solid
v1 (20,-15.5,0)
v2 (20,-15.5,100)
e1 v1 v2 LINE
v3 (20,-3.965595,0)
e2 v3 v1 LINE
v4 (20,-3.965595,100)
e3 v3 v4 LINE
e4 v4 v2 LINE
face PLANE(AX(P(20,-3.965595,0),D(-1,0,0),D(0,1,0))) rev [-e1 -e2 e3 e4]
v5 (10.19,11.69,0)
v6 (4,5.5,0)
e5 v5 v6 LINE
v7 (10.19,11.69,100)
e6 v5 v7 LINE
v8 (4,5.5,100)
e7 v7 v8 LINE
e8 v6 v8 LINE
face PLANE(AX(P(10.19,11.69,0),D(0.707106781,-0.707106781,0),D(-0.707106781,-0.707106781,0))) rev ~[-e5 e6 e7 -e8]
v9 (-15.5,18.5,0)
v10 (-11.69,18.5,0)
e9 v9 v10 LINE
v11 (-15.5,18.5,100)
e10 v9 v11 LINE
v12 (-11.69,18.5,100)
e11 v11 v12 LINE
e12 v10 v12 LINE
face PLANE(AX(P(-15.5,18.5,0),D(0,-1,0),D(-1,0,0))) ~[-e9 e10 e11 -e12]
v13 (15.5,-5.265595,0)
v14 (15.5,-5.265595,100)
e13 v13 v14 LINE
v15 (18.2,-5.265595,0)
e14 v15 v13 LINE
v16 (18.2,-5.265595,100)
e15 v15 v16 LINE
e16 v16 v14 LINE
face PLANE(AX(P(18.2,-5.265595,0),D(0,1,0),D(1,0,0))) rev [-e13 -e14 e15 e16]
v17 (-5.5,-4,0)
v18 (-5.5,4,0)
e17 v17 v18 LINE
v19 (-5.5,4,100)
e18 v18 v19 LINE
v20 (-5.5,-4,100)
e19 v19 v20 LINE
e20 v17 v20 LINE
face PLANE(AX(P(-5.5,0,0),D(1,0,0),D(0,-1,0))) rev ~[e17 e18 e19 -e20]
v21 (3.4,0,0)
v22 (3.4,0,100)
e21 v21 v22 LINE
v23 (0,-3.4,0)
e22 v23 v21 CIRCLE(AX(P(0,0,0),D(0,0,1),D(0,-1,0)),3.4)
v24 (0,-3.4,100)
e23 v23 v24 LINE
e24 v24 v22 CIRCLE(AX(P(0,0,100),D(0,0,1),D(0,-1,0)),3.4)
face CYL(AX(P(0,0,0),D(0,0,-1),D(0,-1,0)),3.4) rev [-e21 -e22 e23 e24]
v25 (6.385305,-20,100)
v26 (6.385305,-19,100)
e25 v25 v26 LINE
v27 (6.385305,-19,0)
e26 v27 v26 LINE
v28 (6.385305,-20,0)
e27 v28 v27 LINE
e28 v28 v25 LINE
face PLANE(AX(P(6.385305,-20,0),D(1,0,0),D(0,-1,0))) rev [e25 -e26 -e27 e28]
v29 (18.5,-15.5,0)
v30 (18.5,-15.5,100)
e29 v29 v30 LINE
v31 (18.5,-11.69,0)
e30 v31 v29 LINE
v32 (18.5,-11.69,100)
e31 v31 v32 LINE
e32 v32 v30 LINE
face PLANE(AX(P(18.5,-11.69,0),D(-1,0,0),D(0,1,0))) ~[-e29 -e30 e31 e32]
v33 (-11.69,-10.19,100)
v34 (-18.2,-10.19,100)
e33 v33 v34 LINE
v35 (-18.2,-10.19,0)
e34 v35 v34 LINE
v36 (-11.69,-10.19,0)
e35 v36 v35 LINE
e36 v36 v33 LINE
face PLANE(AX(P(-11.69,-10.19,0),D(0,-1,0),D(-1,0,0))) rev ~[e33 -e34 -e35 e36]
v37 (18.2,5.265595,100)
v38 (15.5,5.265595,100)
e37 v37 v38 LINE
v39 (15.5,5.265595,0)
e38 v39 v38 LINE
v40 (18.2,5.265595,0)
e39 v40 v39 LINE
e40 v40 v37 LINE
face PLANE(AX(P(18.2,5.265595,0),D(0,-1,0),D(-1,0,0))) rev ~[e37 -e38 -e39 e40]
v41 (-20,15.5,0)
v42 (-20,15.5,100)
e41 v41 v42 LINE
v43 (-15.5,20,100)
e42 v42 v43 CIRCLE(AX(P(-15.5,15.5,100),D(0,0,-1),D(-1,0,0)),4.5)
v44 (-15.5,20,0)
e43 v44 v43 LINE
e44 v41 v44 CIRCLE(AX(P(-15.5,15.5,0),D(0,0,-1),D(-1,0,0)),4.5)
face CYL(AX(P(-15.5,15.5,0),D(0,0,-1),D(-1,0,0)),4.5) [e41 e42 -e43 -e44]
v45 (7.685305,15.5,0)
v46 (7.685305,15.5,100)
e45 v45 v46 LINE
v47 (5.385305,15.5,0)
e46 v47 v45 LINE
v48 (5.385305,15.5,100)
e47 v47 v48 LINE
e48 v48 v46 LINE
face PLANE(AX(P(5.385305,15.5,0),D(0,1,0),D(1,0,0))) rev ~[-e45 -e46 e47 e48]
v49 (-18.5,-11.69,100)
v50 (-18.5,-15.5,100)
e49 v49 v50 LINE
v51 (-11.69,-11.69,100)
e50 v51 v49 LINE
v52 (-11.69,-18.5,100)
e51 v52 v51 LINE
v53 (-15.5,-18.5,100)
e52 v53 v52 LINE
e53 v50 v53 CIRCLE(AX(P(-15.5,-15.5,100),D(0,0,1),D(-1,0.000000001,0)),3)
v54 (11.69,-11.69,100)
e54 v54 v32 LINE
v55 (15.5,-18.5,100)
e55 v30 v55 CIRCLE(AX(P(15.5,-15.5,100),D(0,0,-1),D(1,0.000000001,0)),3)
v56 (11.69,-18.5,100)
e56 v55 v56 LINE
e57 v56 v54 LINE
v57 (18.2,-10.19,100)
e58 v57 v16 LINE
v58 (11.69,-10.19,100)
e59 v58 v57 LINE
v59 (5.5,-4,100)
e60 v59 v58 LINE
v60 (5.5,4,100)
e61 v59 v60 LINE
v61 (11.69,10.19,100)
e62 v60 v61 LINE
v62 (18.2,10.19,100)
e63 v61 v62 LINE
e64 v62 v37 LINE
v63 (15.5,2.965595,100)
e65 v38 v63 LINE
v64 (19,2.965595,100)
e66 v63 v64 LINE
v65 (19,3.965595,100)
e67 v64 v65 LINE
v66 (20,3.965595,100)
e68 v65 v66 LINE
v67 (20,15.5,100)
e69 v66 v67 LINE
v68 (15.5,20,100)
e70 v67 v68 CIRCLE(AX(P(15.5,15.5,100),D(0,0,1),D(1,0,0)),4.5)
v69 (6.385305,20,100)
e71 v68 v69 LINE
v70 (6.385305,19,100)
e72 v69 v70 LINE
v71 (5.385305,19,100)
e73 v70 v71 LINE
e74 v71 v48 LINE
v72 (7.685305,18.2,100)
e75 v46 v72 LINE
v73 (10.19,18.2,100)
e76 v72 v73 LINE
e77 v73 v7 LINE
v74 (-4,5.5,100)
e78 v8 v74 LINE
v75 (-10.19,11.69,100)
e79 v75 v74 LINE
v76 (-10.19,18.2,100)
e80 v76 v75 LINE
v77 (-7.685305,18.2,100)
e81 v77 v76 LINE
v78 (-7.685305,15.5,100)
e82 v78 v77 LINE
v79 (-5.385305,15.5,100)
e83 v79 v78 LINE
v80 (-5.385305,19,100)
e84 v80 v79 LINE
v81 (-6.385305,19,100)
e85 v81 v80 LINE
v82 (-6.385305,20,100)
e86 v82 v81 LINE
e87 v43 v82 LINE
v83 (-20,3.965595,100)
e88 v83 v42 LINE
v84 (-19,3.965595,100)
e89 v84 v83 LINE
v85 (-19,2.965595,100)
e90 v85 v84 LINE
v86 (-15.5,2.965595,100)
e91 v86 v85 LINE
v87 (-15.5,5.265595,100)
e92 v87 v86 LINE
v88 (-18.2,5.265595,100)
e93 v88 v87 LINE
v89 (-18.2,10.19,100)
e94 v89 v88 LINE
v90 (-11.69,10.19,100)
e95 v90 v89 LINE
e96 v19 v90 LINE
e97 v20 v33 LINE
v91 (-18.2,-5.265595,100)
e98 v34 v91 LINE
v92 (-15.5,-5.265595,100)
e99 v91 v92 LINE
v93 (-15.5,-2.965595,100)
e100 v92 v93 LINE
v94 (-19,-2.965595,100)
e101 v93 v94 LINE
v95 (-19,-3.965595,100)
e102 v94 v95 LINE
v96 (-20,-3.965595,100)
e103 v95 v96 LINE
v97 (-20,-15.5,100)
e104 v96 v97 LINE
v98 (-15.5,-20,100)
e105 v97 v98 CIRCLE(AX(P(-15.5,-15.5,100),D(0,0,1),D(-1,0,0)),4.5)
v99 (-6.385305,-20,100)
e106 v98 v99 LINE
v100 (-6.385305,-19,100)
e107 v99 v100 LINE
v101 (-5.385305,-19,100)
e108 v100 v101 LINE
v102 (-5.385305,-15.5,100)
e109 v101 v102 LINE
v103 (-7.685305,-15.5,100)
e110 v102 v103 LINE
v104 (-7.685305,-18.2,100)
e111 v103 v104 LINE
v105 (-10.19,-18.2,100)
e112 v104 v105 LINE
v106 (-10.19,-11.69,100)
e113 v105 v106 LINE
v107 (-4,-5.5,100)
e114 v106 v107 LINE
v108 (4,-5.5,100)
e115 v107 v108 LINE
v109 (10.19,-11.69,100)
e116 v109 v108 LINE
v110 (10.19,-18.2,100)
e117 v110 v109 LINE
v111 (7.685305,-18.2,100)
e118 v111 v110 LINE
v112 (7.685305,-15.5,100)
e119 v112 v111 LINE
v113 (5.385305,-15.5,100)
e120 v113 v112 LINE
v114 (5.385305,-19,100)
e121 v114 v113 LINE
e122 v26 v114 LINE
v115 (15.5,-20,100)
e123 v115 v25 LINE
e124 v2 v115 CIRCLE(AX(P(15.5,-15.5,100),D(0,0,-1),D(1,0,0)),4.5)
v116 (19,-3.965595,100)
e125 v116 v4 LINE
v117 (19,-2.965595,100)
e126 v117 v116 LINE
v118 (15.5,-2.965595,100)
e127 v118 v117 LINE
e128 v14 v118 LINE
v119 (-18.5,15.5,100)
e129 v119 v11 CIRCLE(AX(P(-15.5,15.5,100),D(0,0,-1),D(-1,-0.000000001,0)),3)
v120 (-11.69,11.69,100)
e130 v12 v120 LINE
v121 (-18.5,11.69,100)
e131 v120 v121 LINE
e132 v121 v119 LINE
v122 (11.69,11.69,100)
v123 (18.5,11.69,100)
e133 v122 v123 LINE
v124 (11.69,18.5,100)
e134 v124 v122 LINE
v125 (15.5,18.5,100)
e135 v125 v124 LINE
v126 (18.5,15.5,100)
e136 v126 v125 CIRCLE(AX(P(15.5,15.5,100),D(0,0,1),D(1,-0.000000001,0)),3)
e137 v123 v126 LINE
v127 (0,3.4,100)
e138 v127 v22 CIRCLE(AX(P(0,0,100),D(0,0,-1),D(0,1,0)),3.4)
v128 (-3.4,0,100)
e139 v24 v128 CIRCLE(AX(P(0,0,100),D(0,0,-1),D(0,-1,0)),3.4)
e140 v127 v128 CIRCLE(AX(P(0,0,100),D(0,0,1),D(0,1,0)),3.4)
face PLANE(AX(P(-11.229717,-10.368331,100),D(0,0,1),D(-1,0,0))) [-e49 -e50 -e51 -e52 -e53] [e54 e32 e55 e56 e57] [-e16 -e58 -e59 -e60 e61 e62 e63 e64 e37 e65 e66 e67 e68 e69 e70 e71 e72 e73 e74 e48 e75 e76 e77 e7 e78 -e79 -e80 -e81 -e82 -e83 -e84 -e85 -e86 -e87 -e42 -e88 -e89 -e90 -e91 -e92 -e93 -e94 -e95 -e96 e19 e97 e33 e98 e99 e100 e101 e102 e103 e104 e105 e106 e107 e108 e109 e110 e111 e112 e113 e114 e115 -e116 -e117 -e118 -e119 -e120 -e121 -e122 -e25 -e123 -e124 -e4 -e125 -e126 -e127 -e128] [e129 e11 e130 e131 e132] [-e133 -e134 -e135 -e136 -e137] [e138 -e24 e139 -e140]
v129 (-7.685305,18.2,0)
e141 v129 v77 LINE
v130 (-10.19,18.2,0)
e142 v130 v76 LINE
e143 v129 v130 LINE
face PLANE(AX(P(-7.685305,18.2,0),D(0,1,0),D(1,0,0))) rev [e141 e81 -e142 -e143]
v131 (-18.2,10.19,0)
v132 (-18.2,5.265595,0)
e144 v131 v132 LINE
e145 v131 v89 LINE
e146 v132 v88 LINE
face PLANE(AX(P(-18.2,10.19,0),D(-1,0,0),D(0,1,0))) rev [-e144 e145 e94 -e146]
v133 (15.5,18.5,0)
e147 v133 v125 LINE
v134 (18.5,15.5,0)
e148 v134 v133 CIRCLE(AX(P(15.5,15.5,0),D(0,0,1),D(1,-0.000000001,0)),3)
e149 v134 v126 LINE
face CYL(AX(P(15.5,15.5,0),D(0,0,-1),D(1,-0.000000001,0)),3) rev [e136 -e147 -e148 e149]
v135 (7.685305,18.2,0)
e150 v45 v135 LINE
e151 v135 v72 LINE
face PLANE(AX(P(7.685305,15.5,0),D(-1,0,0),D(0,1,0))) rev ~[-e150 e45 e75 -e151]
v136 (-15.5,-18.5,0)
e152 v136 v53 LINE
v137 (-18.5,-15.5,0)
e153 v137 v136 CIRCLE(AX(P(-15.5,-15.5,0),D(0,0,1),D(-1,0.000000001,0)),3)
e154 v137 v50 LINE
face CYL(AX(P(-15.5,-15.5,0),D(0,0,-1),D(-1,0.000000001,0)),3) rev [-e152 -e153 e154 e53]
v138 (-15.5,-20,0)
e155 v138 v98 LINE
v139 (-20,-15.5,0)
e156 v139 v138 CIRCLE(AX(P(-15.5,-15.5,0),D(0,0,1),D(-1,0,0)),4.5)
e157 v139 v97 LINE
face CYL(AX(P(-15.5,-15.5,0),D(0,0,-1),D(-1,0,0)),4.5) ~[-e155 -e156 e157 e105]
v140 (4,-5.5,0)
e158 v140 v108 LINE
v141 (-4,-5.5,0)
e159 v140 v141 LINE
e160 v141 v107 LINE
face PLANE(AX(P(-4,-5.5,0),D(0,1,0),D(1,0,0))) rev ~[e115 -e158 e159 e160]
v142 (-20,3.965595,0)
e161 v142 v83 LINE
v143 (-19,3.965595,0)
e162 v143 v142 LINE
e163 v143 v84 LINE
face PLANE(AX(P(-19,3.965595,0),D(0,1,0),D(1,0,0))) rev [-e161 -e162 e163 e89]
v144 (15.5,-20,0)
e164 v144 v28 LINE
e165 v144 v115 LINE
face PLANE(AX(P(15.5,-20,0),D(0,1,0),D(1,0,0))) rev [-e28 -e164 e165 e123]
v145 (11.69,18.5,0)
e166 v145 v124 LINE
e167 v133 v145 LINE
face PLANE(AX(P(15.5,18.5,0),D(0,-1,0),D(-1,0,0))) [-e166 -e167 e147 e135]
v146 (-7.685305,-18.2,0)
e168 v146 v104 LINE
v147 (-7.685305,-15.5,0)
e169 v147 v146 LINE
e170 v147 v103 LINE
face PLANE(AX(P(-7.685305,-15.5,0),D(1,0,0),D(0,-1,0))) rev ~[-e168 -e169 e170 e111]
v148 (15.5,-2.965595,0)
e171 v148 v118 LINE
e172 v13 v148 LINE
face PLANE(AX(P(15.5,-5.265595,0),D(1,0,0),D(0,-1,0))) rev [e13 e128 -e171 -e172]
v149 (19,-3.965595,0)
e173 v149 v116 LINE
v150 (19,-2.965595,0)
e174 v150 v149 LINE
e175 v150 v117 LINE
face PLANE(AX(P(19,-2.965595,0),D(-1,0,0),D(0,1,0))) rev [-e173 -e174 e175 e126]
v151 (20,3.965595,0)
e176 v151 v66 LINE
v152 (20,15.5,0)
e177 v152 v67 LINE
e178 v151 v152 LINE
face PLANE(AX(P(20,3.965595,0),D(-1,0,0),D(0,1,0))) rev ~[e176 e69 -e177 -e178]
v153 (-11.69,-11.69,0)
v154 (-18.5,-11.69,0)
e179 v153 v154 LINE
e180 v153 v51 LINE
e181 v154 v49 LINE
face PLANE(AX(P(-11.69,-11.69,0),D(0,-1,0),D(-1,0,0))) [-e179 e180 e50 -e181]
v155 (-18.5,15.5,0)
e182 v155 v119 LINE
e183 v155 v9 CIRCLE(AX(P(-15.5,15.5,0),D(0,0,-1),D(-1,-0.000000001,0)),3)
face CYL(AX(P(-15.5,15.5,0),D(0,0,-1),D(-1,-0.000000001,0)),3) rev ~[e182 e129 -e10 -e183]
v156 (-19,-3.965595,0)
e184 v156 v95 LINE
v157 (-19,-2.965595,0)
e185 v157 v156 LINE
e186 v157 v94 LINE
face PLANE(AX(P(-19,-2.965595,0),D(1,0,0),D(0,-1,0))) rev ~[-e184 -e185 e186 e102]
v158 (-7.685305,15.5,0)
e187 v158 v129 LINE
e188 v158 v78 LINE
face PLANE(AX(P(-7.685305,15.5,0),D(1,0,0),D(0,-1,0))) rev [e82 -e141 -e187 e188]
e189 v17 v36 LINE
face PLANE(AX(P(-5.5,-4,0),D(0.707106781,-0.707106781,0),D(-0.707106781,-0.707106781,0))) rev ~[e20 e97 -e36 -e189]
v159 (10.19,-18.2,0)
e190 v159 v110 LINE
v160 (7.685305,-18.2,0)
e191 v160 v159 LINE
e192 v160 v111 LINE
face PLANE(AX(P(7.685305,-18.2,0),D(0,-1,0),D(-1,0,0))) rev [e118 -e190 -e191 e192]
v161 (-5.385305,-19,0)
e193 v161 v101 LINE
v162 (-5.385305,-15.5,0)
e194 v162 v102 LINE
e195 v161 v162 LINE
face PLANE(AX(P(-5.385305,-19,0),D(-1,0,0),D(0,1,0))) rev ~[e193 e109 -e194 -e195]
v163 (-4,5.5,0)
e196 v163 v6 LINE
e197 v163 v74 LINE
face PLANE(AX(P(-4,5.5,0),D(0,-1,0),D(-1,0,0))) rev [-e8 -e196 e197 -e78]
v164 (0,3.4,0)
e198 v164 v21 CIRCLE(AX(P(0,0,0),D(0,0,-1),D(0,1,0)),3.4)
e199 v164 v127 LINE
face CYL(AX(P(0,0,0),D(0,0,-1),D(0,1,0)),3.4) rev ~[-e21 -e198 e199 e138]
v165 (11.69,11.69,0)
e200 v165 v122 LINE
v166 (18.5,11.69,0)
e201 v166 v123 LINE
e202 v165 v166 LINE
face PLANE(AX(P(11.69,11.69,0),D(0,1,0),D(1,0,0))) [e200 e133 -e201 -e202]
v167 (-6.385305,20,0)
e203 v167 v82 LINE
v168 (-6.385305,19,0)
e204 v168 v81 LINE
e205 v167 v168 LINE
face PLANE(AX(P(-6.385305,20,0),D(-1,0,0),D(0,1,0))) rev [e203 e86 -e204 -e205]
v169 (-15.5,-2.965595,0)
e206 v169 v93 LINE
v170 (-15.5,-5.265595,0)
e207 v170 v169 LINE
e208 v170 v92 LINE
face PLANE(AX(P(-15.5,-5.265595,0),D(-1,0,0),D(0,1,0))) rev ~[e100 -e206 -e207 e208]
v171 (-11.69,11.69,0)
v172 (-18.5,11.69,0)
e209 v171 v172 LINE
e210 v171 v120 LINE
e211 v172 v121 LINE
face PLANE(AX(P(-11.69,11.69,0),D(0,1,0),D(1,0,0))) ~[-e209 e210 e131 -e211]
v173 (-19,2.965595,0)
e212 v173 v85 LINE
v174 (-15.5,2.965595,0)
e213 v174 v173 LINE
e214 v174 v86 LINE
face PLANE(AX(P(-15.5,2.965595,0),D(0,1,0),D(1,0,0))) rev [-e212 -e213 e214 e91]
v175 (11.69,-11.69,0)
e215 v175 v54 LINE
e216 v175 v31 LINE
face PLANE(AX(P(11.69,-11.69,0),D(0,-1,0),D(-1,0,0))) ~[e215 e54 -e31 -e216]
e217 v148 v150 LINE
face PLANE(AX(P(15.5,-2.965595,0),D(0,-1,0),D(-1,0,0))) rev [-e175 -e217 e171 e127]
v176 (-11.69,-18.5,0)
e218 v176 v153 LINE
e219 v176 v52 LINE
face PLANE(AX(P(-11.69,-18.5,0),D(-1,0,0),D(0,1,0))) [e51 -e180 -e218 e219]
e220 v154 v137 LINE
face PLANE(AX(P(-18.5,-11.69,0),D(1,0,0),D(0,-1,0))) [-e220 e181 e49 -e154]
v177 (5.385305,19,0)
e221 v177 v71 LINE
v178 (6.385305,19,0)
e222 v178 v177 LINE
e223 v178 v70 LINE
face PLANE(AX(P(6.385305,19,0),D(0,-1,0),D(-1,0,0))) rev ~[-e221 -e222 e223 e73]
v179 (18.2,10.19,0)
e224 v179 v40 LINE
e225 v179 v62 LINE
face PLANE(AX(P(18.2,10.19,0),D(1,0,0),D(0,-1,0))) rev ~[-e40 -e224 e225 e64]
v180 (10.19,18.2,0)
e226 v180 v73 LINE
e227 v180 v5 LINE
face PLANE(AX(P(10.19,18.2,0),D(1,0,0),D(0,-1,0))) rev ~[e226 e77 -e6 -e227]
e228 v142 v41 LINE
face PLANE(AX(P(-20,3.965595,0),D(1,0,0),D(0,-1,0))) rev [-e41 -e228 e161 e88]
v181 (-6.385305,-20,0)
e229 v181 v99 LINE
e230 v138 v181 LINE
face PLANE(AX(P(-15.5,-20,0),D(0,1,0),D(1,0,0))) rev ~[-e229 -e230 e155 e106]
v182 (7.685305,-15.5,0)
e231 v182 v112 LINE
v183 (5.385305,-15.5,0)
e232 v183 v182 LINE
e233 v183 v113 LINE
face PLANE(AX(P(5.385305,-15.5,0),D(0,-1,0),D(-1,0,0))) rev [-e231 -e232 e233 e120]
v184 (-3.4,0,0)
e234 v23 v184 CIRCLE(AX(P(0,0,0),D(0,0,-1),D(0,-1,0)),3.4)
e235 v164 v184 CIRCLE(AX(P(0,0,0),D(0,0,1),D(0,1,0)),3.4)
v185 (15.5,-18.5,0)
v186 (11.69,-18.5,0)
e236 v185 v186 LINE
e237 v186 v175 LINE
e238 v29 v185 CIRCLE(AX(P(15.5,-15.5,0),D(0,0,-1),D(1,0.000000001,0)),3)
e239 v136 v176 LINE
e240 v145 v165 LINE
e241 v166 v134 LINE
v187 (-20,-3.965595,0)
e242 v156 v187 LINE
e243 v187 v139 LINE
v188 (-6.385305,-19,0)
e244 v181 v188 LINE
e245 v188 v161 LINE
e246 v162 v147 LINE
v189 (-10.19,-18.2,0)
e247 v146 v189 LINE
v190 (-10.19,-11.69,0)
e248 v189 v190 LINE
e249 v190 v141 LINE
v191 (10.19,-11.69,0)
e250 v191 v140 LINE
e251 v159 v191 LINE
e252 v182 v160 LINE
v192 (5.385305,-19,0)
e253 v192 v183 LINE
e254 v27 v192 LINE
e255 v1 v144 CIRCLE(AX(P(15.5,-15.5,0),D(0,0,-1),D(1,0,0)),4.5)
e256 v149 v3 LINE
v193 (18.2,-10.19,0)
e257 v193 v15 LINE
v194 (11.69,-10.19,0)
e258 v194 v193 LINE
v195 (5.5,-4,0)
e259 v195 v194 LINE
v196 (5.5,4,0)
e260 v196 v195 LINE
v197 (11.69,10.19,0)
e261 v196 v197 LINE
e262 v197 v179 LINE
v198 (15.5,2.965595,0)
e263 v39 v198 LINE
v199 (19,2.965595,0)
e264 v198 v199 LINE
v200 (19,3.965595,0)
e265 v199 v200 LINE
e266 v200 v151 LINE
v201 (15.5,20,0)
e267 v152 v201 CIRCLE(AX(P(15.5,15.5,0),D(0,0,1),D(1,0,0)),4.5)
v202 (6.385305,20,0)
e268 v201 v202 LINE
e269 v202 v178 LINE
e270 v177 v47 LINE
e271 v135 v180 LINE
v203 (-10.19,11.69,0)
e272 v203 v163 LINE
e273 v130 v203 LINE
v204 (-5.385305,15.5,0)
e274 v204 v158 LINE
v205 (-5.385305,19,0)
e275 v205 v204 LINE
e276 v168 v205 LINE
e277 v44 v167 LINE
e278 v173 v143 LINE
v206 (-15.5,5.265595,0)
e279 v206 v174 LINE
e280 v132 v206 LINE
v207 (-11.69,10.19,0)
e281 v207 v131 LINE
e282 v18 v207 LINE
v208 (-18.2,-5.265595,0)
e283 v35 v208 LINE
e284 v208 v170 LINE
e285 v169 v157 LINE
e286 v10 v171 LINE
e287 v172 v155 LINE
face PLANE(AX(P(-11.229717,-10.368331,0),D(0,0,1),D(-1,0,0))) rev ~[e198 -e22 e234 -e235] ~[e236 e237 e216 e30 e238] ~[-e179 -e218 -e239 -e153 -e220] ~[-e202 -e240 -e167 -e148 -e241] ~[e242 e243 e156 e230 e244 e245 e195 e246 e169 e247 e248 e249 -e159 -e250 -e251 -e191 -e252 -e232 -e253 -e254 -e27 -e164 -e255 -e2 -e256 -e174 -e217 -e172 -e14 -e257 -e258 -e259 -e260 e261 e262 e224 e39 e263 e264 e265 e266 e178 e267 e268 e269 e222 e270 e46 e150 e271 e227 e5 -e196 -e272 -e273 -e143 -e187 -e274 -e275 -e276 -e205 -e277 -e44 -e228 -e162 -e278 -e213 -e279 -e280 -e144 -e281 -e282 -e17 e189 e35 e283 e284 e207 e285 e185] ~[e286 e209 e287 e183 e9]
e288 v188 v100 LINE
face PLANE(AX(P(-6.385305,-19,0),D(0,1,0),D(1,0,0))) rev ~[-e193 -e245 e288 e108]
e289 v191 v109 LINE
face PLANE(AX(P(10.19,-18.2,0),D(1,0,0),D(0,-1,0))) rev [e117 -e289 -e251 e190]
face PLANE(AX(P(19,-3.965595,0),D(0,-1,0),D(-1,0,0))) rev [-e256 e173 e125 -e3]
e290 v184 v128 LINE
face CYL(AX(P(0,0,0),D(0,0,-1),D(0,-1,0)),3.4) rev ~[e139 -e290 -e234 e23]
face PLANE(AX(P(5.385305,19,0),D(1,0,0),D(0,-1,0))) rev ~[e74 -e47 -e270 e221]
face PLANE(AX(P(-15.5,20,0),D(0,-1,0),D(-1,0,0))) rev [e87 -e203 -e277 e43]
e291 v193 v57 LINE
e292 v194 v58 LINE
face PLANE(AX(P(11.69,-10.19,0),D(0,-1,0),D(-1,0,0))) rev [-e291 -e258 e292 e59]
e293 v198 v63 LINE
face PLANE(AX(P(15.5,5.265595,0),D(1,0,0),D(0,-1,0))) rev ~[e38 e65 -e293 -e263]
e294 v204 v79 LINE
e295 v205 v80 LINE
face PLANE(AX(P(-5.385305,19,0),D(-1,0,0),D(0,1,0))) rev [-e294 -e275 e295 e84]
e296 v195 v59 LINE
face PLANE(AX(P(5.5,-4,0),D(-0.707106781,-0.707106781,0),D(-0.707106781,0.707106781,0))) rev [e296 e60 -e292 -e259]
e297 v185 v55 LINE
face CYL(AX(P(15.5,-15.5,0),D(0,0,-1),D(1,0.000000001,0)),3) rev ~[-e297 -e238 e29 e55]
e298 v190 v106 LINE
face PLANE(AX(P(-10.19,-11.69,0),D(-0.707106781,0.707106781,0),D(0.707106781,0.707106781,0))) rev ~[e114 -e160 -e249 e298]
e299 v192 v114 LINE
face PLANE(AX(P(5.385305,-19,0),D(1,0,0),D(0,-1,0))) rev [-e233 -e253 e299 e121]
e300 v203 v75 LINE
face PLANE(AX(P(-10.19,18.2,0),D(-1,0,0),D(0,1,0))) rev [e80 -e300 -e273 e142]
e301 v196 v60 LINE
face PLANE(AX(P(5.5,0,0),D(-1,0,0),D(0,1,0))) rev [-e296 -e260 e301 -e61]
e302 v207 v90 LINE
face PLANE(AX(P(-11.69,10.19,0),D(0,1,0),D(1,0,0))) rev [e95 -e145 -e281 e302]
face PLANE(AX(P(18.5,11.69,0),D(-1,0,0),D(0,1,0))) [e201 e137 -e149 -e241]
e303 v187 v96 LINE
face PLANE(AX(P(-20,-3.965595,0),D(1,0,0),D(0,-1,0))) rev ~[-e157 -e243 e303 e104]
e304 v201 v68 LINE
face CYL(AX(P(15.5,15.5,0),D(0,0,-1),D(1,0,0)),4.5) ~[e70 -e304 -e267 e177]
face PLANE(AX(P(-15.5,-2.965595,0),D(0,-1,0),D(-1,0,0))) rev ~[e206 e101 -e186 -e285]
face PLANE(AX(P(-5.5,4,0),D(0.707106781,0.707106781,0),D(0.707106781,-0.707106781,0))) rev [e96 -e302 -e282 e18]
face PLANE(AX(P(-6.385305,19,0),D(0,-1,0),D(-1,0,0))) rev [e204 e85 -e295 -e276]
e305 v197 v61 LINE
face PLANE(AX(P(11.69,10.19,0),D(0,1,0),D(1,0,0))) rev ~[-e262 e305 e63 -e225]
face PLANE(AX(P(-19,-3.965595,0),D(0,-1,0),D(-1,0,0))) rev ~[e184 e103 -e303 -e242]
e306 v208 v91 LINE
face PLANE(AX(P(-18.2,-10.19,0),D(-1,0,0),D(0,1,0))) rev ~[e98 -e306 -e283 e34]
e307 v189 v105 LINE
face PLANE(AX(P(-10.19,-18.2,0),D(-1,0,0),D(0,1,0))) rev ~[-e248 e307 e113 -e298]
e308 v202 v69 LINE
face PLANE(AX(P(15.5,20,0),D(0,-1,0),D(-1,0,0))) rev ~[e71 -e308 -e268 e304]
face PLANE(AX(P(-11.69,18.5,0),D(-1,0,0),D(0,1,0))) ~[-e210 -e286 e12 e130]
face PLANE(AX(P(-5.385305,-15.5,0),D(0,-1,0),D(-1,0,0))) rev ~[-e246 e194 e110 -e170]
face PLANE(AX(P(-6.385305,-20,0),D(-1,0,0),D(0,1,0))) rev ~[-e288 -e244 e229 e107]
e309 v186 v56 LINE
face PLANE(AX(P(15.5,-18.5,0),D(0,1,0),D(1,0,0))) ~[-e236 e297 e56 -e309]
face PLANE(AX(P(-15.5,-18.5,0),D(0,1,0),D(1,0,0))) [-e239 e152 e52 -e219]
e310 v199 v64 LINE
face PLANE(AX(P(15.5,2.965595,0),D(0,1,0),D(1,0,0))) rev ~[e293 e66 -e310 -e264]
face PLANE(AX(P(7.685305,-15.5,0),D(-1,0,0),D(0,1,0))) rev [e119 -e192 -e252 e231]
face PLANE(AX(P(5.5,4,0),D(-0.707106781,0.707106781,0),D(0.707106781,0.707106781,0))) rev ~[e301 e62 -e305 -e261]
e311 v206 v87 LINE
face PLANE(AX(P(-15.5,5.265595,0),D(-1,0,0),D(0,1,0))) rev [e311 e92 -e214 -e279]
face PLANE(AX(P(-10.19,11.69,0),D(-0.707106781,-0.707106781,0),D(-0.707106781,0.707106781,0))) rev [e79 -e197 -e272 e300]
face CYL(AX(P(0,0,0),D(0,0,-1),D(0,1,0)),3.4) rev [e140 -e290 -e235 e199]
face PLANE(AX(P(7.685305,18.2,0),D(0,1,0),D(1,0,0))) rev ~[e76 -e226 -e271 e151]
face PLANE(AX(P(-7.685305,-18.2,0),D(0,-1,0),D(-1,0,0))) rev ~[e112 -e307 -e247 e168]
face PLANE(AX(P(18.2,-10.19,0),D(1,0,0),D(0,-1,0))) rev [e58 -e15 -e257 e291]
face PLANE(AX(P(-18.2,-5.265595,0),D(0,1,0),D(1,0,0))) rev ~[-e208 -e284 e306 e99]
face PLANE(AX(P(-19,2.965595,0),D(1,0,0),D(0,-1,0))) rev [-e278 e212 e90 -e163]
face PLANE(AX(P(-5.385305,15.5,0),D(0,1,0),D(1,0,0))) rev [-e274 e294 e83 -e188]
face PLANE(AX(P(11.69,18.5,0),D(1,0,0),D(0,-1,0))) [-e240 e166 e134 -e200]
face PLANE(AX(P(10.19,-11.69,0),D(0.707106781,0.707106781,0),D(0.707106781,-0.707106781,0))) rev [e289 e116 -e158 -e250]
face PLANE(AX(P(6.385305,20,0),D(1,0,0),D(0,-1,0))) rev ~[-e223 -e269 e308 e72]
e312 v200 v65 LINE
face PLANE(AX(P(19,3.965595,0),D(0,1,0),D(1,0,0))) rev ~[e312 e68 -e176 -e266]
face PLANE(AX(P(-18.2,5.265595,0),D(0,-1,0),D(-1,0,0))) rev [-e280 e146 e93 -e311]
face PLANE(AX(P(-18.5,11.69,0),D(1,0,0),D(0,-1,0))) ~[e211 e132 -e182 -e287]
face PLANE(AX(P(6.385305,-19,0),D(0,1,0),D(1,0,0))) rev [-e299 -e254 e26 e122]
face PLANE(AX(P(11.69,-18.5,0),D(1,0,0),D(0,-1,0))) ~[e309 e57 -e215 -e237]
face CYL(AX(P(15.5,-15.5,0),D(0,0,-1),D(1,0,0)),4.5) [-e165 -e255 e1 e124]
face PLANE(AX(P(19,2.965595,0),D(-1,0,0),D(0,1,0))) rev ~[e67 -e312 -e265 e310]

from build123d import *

# Parameters (mm, degrees)
BOSS_EXTRUDE1_DEPTH  = 100
MIRROR3_COPY_1_DEPTH = 100
MIRROR3_COPY_2_DEPTH = 100


with BuildPart() as part:
    # Sketch1 → Boss-Extrude1 (new body)
    with BuildSketch(Plane.XY):
        with BuildLine():
            Line((3.4, 0), (5.5, 0))
            Line((5.5, 0), (5.5, 4))
            Line((5.5, 4), (11.69, 10.19))
            Line((11.69, 10.19), (18.2, 10.19))
            Line((18.2, 10.19), (18.2, 5.265595036))
            Line((18.2, 5.265595036), (15.5, 5.265595036))
            Line((15.5, 5.265595036), (15.5, 2.965595036))
            Line((15.5, 2.965595036), (19, 2.965595036))
            Line((19, 2.965595036), (19, 3.965595036))
            Line((19, 3.965595036), (20, 3.965595036))
            Line((20, 3.965595036), (20, 15.5))
            ThreePointArc((20, 15.5), (18.681980515, 18.681980515), (15.5, 20))
            Line((15.5, 20), (6.385304712, 20))
            Line((6.385304712, 20), (6.385304712, 19))
            Line((6.385304712, 19), (5.385304712, 19))
            Line((5.385304712, 19), (5.385304712, 15.5))
            Line((5.385304712, 15.5), (7.685304712, 15.5))
            Line((7.685304712, 15.5), (7.685304712, 18.2))
            Line((7.685304712, 18.2), (10.19, 18.2))
            Line((10.19, 18.2), (10.19, 11.69))
            Line((10.19, 11.69), (4, 5.5))
            Line((4, 5.5), (0, 5.5))
            Line((0, 5.5), (0, 3.4))
            ThreePointArc((0, 3.4), (2.404163056, 2.404163056), (3.4, 0))
        make_face()
        with BuildLine():
            Line((18.5, 11.69), (18.5, 15.5))
            ThreePointArc((18.5, 15.5), (17.621320344, 17.621320344), (15.5, 18.5))
            Line((15.5, 18.5), (11.69, 18.5))
            Line((11.69, 18.5), (11.69, 11.69))
            Line((11.69, 11.69), (18.5, 11.69))
        make_face(mode=Mode.SUBTRACT)
    boss_extrude1 = extrude(amount=BOSS_EXTRUDE1_DEPTH)

    # Mirror1: Boss-Extrude1 across plane
    add(boss_extrude1.mirror(Plane.ZX))

    # Mirror2: Boss-Extrude1 across plane
    add(boss_extrude1.mirror(Plane(origin=(0, 0, 0), x_dir=(0, 0, 1), z_dir=(1, 0, 0))))

    # Mirror3 copy 1 sketch → Mirror3 copy 1 (add)
    with BuildSketch(Plane(origin=(0, 0, 0), x_dir=(-1, 0, 0), z_dir=(0, 0, 1))):
        with BuildLine():
            Line((3.4, 0), (5.5, 0))
            Line((5.5, 0), (5.5, 4))
            Line((5.5, 4), (11.69, 10.19))
            Line((11.69, 10.19), (18.2, 10.19))
            Line((18.2, 10.19), (18.2, 5.265595036))
            Line((18.2, 5.265595036), (15.5, 5.265595036))
            Line((15.5, 5.265595036), (15.5, 2.965595036))
            Line((15.5, 2.965595036), (19, 2.965595036))
            Line((19, 2.965595036), (19, 3.965595036))
            Line((19, 3.965595036), (20, 3.965595036))
            Line((20, 3.965595036), (20, 15.5))
            ThreePointArc((20, 15.5), (18.681980515, 18.681980515), (15.5, 20))
            Line((15.5, 20), (6.385304712, 20))
            Line((6.385304712, 20), (6.385304712, 19))
            Line((6.385304712, 19), (5.385304712, 19))
            Line((5.385304712, 19), (5.385304712, 15.5))
            Line((5.385304712, 15.5), (7.685304712, 15.5))
            Line((7.685304712, 15.5), (7.685304712, 18.2))
            Line((7.685304712, 18.2), (10.19, 18.2))
            Line((10.19, 18.2), (10.19, 11.69))
            Line((10.19, 11.69), (4, 5.5))
            Line((4, 5.5), (0, 5.5))
            Line((0, 5.5), (0, 3.4))
            ThreePointArc((0, 3.4), (2.404163056, 2.404163056), (3.4, 0))
        make_face()
        with BuildLine():
            Line((18.5, 11.69), (18.5, 15.5))
            ThreePointArc((18.5, 15.5), (17.621320344, 17.621320344), (15.5, 18.5))
            Line((15.5, 18.5), (11.69, 18.5))
            Line((11.69, 18.5), (11.69, 11.69))
            Line((11.69, 11.69), (18.5, 11.69))
        make_face(mode=Mode.SUBTRACT)
    extrude(amount=MIRROR3_COPY_1_DEPTH)

    # Mirror3 copy 2 sketch → Mirror3 copy 2 (add)
    with BuildSketch(Plane.XY):
        with BuildLine():
            Line((3.4, 0), (5.5, 0))
            Line((5.5, 0), (5.5, -4))
            Line((5.5, -4), (11.69, -10.19))
            Line((11.69, -10.19), (18.2, -10.19))
            Line((18.2, -10.19), (18.2, -5.265595036))
            Line((18.2, -5.265595036), (15.5, -5.265595036))
            Line((15.5, -5.265595036), (15.5, -2.965595036))
            Line((15.5, -2.965595036), (19, -2.965595036))
            Line((19, -2.965595036), (19, -3.965595036))
            Line((19, -3.965595036), (20, -3.965595036))
            Line((20, -3.965595036), (20, -15.5))
            ThreePointArc((20, -15.5), (18.681980515, -18.681980515), (15.5, -20))
            Line((15.5, -20), (6.385304712, -20))
            Line((6.385304712, -20), (6.385304712, -19))
            Line((6.385304712, -19), (5.385304712, -19))
            Line((5.385304712, -19), (5.385304712, -15.5))
            Line((5.385304712, -15.5), (7.685304712, -15.5))
            Line((7.685304712, -15.5), (7.685304712, -18.2))
            Line((7.685304712, -18.2), (10.19, -18.2))
            Line((10.19, -18.2), (10.19, -11.69))
            Line((10.19, -11.69), (4, -5.5))
            Line((4, -5.5), (0, -5.5))
            Line((0, -5.5), (0, -3.4))
            ThreePointArc((0, -3.4), (2.404163056, -2.404163056), (3.4, 0))
        make_face()
        with BuildLine():
            Line((18.5, -11.69), (18.5, -15.5))
            ThreePointArc((18.5, -15.5), (17.621320344, -17.621320344), (15.5, -18.5))
            Line((15.5, -18.5), (11.69, -18.5))
            Line((11.69, -18.5), (11.69, -11.69))
            Line((11.69, -11.69), (18.5, -11.69))
        make_face(mode=Mode.SUBTRACT)
    extrude(amount=MIRROR3_COPY_2_DEPTH)


solid = part.part
